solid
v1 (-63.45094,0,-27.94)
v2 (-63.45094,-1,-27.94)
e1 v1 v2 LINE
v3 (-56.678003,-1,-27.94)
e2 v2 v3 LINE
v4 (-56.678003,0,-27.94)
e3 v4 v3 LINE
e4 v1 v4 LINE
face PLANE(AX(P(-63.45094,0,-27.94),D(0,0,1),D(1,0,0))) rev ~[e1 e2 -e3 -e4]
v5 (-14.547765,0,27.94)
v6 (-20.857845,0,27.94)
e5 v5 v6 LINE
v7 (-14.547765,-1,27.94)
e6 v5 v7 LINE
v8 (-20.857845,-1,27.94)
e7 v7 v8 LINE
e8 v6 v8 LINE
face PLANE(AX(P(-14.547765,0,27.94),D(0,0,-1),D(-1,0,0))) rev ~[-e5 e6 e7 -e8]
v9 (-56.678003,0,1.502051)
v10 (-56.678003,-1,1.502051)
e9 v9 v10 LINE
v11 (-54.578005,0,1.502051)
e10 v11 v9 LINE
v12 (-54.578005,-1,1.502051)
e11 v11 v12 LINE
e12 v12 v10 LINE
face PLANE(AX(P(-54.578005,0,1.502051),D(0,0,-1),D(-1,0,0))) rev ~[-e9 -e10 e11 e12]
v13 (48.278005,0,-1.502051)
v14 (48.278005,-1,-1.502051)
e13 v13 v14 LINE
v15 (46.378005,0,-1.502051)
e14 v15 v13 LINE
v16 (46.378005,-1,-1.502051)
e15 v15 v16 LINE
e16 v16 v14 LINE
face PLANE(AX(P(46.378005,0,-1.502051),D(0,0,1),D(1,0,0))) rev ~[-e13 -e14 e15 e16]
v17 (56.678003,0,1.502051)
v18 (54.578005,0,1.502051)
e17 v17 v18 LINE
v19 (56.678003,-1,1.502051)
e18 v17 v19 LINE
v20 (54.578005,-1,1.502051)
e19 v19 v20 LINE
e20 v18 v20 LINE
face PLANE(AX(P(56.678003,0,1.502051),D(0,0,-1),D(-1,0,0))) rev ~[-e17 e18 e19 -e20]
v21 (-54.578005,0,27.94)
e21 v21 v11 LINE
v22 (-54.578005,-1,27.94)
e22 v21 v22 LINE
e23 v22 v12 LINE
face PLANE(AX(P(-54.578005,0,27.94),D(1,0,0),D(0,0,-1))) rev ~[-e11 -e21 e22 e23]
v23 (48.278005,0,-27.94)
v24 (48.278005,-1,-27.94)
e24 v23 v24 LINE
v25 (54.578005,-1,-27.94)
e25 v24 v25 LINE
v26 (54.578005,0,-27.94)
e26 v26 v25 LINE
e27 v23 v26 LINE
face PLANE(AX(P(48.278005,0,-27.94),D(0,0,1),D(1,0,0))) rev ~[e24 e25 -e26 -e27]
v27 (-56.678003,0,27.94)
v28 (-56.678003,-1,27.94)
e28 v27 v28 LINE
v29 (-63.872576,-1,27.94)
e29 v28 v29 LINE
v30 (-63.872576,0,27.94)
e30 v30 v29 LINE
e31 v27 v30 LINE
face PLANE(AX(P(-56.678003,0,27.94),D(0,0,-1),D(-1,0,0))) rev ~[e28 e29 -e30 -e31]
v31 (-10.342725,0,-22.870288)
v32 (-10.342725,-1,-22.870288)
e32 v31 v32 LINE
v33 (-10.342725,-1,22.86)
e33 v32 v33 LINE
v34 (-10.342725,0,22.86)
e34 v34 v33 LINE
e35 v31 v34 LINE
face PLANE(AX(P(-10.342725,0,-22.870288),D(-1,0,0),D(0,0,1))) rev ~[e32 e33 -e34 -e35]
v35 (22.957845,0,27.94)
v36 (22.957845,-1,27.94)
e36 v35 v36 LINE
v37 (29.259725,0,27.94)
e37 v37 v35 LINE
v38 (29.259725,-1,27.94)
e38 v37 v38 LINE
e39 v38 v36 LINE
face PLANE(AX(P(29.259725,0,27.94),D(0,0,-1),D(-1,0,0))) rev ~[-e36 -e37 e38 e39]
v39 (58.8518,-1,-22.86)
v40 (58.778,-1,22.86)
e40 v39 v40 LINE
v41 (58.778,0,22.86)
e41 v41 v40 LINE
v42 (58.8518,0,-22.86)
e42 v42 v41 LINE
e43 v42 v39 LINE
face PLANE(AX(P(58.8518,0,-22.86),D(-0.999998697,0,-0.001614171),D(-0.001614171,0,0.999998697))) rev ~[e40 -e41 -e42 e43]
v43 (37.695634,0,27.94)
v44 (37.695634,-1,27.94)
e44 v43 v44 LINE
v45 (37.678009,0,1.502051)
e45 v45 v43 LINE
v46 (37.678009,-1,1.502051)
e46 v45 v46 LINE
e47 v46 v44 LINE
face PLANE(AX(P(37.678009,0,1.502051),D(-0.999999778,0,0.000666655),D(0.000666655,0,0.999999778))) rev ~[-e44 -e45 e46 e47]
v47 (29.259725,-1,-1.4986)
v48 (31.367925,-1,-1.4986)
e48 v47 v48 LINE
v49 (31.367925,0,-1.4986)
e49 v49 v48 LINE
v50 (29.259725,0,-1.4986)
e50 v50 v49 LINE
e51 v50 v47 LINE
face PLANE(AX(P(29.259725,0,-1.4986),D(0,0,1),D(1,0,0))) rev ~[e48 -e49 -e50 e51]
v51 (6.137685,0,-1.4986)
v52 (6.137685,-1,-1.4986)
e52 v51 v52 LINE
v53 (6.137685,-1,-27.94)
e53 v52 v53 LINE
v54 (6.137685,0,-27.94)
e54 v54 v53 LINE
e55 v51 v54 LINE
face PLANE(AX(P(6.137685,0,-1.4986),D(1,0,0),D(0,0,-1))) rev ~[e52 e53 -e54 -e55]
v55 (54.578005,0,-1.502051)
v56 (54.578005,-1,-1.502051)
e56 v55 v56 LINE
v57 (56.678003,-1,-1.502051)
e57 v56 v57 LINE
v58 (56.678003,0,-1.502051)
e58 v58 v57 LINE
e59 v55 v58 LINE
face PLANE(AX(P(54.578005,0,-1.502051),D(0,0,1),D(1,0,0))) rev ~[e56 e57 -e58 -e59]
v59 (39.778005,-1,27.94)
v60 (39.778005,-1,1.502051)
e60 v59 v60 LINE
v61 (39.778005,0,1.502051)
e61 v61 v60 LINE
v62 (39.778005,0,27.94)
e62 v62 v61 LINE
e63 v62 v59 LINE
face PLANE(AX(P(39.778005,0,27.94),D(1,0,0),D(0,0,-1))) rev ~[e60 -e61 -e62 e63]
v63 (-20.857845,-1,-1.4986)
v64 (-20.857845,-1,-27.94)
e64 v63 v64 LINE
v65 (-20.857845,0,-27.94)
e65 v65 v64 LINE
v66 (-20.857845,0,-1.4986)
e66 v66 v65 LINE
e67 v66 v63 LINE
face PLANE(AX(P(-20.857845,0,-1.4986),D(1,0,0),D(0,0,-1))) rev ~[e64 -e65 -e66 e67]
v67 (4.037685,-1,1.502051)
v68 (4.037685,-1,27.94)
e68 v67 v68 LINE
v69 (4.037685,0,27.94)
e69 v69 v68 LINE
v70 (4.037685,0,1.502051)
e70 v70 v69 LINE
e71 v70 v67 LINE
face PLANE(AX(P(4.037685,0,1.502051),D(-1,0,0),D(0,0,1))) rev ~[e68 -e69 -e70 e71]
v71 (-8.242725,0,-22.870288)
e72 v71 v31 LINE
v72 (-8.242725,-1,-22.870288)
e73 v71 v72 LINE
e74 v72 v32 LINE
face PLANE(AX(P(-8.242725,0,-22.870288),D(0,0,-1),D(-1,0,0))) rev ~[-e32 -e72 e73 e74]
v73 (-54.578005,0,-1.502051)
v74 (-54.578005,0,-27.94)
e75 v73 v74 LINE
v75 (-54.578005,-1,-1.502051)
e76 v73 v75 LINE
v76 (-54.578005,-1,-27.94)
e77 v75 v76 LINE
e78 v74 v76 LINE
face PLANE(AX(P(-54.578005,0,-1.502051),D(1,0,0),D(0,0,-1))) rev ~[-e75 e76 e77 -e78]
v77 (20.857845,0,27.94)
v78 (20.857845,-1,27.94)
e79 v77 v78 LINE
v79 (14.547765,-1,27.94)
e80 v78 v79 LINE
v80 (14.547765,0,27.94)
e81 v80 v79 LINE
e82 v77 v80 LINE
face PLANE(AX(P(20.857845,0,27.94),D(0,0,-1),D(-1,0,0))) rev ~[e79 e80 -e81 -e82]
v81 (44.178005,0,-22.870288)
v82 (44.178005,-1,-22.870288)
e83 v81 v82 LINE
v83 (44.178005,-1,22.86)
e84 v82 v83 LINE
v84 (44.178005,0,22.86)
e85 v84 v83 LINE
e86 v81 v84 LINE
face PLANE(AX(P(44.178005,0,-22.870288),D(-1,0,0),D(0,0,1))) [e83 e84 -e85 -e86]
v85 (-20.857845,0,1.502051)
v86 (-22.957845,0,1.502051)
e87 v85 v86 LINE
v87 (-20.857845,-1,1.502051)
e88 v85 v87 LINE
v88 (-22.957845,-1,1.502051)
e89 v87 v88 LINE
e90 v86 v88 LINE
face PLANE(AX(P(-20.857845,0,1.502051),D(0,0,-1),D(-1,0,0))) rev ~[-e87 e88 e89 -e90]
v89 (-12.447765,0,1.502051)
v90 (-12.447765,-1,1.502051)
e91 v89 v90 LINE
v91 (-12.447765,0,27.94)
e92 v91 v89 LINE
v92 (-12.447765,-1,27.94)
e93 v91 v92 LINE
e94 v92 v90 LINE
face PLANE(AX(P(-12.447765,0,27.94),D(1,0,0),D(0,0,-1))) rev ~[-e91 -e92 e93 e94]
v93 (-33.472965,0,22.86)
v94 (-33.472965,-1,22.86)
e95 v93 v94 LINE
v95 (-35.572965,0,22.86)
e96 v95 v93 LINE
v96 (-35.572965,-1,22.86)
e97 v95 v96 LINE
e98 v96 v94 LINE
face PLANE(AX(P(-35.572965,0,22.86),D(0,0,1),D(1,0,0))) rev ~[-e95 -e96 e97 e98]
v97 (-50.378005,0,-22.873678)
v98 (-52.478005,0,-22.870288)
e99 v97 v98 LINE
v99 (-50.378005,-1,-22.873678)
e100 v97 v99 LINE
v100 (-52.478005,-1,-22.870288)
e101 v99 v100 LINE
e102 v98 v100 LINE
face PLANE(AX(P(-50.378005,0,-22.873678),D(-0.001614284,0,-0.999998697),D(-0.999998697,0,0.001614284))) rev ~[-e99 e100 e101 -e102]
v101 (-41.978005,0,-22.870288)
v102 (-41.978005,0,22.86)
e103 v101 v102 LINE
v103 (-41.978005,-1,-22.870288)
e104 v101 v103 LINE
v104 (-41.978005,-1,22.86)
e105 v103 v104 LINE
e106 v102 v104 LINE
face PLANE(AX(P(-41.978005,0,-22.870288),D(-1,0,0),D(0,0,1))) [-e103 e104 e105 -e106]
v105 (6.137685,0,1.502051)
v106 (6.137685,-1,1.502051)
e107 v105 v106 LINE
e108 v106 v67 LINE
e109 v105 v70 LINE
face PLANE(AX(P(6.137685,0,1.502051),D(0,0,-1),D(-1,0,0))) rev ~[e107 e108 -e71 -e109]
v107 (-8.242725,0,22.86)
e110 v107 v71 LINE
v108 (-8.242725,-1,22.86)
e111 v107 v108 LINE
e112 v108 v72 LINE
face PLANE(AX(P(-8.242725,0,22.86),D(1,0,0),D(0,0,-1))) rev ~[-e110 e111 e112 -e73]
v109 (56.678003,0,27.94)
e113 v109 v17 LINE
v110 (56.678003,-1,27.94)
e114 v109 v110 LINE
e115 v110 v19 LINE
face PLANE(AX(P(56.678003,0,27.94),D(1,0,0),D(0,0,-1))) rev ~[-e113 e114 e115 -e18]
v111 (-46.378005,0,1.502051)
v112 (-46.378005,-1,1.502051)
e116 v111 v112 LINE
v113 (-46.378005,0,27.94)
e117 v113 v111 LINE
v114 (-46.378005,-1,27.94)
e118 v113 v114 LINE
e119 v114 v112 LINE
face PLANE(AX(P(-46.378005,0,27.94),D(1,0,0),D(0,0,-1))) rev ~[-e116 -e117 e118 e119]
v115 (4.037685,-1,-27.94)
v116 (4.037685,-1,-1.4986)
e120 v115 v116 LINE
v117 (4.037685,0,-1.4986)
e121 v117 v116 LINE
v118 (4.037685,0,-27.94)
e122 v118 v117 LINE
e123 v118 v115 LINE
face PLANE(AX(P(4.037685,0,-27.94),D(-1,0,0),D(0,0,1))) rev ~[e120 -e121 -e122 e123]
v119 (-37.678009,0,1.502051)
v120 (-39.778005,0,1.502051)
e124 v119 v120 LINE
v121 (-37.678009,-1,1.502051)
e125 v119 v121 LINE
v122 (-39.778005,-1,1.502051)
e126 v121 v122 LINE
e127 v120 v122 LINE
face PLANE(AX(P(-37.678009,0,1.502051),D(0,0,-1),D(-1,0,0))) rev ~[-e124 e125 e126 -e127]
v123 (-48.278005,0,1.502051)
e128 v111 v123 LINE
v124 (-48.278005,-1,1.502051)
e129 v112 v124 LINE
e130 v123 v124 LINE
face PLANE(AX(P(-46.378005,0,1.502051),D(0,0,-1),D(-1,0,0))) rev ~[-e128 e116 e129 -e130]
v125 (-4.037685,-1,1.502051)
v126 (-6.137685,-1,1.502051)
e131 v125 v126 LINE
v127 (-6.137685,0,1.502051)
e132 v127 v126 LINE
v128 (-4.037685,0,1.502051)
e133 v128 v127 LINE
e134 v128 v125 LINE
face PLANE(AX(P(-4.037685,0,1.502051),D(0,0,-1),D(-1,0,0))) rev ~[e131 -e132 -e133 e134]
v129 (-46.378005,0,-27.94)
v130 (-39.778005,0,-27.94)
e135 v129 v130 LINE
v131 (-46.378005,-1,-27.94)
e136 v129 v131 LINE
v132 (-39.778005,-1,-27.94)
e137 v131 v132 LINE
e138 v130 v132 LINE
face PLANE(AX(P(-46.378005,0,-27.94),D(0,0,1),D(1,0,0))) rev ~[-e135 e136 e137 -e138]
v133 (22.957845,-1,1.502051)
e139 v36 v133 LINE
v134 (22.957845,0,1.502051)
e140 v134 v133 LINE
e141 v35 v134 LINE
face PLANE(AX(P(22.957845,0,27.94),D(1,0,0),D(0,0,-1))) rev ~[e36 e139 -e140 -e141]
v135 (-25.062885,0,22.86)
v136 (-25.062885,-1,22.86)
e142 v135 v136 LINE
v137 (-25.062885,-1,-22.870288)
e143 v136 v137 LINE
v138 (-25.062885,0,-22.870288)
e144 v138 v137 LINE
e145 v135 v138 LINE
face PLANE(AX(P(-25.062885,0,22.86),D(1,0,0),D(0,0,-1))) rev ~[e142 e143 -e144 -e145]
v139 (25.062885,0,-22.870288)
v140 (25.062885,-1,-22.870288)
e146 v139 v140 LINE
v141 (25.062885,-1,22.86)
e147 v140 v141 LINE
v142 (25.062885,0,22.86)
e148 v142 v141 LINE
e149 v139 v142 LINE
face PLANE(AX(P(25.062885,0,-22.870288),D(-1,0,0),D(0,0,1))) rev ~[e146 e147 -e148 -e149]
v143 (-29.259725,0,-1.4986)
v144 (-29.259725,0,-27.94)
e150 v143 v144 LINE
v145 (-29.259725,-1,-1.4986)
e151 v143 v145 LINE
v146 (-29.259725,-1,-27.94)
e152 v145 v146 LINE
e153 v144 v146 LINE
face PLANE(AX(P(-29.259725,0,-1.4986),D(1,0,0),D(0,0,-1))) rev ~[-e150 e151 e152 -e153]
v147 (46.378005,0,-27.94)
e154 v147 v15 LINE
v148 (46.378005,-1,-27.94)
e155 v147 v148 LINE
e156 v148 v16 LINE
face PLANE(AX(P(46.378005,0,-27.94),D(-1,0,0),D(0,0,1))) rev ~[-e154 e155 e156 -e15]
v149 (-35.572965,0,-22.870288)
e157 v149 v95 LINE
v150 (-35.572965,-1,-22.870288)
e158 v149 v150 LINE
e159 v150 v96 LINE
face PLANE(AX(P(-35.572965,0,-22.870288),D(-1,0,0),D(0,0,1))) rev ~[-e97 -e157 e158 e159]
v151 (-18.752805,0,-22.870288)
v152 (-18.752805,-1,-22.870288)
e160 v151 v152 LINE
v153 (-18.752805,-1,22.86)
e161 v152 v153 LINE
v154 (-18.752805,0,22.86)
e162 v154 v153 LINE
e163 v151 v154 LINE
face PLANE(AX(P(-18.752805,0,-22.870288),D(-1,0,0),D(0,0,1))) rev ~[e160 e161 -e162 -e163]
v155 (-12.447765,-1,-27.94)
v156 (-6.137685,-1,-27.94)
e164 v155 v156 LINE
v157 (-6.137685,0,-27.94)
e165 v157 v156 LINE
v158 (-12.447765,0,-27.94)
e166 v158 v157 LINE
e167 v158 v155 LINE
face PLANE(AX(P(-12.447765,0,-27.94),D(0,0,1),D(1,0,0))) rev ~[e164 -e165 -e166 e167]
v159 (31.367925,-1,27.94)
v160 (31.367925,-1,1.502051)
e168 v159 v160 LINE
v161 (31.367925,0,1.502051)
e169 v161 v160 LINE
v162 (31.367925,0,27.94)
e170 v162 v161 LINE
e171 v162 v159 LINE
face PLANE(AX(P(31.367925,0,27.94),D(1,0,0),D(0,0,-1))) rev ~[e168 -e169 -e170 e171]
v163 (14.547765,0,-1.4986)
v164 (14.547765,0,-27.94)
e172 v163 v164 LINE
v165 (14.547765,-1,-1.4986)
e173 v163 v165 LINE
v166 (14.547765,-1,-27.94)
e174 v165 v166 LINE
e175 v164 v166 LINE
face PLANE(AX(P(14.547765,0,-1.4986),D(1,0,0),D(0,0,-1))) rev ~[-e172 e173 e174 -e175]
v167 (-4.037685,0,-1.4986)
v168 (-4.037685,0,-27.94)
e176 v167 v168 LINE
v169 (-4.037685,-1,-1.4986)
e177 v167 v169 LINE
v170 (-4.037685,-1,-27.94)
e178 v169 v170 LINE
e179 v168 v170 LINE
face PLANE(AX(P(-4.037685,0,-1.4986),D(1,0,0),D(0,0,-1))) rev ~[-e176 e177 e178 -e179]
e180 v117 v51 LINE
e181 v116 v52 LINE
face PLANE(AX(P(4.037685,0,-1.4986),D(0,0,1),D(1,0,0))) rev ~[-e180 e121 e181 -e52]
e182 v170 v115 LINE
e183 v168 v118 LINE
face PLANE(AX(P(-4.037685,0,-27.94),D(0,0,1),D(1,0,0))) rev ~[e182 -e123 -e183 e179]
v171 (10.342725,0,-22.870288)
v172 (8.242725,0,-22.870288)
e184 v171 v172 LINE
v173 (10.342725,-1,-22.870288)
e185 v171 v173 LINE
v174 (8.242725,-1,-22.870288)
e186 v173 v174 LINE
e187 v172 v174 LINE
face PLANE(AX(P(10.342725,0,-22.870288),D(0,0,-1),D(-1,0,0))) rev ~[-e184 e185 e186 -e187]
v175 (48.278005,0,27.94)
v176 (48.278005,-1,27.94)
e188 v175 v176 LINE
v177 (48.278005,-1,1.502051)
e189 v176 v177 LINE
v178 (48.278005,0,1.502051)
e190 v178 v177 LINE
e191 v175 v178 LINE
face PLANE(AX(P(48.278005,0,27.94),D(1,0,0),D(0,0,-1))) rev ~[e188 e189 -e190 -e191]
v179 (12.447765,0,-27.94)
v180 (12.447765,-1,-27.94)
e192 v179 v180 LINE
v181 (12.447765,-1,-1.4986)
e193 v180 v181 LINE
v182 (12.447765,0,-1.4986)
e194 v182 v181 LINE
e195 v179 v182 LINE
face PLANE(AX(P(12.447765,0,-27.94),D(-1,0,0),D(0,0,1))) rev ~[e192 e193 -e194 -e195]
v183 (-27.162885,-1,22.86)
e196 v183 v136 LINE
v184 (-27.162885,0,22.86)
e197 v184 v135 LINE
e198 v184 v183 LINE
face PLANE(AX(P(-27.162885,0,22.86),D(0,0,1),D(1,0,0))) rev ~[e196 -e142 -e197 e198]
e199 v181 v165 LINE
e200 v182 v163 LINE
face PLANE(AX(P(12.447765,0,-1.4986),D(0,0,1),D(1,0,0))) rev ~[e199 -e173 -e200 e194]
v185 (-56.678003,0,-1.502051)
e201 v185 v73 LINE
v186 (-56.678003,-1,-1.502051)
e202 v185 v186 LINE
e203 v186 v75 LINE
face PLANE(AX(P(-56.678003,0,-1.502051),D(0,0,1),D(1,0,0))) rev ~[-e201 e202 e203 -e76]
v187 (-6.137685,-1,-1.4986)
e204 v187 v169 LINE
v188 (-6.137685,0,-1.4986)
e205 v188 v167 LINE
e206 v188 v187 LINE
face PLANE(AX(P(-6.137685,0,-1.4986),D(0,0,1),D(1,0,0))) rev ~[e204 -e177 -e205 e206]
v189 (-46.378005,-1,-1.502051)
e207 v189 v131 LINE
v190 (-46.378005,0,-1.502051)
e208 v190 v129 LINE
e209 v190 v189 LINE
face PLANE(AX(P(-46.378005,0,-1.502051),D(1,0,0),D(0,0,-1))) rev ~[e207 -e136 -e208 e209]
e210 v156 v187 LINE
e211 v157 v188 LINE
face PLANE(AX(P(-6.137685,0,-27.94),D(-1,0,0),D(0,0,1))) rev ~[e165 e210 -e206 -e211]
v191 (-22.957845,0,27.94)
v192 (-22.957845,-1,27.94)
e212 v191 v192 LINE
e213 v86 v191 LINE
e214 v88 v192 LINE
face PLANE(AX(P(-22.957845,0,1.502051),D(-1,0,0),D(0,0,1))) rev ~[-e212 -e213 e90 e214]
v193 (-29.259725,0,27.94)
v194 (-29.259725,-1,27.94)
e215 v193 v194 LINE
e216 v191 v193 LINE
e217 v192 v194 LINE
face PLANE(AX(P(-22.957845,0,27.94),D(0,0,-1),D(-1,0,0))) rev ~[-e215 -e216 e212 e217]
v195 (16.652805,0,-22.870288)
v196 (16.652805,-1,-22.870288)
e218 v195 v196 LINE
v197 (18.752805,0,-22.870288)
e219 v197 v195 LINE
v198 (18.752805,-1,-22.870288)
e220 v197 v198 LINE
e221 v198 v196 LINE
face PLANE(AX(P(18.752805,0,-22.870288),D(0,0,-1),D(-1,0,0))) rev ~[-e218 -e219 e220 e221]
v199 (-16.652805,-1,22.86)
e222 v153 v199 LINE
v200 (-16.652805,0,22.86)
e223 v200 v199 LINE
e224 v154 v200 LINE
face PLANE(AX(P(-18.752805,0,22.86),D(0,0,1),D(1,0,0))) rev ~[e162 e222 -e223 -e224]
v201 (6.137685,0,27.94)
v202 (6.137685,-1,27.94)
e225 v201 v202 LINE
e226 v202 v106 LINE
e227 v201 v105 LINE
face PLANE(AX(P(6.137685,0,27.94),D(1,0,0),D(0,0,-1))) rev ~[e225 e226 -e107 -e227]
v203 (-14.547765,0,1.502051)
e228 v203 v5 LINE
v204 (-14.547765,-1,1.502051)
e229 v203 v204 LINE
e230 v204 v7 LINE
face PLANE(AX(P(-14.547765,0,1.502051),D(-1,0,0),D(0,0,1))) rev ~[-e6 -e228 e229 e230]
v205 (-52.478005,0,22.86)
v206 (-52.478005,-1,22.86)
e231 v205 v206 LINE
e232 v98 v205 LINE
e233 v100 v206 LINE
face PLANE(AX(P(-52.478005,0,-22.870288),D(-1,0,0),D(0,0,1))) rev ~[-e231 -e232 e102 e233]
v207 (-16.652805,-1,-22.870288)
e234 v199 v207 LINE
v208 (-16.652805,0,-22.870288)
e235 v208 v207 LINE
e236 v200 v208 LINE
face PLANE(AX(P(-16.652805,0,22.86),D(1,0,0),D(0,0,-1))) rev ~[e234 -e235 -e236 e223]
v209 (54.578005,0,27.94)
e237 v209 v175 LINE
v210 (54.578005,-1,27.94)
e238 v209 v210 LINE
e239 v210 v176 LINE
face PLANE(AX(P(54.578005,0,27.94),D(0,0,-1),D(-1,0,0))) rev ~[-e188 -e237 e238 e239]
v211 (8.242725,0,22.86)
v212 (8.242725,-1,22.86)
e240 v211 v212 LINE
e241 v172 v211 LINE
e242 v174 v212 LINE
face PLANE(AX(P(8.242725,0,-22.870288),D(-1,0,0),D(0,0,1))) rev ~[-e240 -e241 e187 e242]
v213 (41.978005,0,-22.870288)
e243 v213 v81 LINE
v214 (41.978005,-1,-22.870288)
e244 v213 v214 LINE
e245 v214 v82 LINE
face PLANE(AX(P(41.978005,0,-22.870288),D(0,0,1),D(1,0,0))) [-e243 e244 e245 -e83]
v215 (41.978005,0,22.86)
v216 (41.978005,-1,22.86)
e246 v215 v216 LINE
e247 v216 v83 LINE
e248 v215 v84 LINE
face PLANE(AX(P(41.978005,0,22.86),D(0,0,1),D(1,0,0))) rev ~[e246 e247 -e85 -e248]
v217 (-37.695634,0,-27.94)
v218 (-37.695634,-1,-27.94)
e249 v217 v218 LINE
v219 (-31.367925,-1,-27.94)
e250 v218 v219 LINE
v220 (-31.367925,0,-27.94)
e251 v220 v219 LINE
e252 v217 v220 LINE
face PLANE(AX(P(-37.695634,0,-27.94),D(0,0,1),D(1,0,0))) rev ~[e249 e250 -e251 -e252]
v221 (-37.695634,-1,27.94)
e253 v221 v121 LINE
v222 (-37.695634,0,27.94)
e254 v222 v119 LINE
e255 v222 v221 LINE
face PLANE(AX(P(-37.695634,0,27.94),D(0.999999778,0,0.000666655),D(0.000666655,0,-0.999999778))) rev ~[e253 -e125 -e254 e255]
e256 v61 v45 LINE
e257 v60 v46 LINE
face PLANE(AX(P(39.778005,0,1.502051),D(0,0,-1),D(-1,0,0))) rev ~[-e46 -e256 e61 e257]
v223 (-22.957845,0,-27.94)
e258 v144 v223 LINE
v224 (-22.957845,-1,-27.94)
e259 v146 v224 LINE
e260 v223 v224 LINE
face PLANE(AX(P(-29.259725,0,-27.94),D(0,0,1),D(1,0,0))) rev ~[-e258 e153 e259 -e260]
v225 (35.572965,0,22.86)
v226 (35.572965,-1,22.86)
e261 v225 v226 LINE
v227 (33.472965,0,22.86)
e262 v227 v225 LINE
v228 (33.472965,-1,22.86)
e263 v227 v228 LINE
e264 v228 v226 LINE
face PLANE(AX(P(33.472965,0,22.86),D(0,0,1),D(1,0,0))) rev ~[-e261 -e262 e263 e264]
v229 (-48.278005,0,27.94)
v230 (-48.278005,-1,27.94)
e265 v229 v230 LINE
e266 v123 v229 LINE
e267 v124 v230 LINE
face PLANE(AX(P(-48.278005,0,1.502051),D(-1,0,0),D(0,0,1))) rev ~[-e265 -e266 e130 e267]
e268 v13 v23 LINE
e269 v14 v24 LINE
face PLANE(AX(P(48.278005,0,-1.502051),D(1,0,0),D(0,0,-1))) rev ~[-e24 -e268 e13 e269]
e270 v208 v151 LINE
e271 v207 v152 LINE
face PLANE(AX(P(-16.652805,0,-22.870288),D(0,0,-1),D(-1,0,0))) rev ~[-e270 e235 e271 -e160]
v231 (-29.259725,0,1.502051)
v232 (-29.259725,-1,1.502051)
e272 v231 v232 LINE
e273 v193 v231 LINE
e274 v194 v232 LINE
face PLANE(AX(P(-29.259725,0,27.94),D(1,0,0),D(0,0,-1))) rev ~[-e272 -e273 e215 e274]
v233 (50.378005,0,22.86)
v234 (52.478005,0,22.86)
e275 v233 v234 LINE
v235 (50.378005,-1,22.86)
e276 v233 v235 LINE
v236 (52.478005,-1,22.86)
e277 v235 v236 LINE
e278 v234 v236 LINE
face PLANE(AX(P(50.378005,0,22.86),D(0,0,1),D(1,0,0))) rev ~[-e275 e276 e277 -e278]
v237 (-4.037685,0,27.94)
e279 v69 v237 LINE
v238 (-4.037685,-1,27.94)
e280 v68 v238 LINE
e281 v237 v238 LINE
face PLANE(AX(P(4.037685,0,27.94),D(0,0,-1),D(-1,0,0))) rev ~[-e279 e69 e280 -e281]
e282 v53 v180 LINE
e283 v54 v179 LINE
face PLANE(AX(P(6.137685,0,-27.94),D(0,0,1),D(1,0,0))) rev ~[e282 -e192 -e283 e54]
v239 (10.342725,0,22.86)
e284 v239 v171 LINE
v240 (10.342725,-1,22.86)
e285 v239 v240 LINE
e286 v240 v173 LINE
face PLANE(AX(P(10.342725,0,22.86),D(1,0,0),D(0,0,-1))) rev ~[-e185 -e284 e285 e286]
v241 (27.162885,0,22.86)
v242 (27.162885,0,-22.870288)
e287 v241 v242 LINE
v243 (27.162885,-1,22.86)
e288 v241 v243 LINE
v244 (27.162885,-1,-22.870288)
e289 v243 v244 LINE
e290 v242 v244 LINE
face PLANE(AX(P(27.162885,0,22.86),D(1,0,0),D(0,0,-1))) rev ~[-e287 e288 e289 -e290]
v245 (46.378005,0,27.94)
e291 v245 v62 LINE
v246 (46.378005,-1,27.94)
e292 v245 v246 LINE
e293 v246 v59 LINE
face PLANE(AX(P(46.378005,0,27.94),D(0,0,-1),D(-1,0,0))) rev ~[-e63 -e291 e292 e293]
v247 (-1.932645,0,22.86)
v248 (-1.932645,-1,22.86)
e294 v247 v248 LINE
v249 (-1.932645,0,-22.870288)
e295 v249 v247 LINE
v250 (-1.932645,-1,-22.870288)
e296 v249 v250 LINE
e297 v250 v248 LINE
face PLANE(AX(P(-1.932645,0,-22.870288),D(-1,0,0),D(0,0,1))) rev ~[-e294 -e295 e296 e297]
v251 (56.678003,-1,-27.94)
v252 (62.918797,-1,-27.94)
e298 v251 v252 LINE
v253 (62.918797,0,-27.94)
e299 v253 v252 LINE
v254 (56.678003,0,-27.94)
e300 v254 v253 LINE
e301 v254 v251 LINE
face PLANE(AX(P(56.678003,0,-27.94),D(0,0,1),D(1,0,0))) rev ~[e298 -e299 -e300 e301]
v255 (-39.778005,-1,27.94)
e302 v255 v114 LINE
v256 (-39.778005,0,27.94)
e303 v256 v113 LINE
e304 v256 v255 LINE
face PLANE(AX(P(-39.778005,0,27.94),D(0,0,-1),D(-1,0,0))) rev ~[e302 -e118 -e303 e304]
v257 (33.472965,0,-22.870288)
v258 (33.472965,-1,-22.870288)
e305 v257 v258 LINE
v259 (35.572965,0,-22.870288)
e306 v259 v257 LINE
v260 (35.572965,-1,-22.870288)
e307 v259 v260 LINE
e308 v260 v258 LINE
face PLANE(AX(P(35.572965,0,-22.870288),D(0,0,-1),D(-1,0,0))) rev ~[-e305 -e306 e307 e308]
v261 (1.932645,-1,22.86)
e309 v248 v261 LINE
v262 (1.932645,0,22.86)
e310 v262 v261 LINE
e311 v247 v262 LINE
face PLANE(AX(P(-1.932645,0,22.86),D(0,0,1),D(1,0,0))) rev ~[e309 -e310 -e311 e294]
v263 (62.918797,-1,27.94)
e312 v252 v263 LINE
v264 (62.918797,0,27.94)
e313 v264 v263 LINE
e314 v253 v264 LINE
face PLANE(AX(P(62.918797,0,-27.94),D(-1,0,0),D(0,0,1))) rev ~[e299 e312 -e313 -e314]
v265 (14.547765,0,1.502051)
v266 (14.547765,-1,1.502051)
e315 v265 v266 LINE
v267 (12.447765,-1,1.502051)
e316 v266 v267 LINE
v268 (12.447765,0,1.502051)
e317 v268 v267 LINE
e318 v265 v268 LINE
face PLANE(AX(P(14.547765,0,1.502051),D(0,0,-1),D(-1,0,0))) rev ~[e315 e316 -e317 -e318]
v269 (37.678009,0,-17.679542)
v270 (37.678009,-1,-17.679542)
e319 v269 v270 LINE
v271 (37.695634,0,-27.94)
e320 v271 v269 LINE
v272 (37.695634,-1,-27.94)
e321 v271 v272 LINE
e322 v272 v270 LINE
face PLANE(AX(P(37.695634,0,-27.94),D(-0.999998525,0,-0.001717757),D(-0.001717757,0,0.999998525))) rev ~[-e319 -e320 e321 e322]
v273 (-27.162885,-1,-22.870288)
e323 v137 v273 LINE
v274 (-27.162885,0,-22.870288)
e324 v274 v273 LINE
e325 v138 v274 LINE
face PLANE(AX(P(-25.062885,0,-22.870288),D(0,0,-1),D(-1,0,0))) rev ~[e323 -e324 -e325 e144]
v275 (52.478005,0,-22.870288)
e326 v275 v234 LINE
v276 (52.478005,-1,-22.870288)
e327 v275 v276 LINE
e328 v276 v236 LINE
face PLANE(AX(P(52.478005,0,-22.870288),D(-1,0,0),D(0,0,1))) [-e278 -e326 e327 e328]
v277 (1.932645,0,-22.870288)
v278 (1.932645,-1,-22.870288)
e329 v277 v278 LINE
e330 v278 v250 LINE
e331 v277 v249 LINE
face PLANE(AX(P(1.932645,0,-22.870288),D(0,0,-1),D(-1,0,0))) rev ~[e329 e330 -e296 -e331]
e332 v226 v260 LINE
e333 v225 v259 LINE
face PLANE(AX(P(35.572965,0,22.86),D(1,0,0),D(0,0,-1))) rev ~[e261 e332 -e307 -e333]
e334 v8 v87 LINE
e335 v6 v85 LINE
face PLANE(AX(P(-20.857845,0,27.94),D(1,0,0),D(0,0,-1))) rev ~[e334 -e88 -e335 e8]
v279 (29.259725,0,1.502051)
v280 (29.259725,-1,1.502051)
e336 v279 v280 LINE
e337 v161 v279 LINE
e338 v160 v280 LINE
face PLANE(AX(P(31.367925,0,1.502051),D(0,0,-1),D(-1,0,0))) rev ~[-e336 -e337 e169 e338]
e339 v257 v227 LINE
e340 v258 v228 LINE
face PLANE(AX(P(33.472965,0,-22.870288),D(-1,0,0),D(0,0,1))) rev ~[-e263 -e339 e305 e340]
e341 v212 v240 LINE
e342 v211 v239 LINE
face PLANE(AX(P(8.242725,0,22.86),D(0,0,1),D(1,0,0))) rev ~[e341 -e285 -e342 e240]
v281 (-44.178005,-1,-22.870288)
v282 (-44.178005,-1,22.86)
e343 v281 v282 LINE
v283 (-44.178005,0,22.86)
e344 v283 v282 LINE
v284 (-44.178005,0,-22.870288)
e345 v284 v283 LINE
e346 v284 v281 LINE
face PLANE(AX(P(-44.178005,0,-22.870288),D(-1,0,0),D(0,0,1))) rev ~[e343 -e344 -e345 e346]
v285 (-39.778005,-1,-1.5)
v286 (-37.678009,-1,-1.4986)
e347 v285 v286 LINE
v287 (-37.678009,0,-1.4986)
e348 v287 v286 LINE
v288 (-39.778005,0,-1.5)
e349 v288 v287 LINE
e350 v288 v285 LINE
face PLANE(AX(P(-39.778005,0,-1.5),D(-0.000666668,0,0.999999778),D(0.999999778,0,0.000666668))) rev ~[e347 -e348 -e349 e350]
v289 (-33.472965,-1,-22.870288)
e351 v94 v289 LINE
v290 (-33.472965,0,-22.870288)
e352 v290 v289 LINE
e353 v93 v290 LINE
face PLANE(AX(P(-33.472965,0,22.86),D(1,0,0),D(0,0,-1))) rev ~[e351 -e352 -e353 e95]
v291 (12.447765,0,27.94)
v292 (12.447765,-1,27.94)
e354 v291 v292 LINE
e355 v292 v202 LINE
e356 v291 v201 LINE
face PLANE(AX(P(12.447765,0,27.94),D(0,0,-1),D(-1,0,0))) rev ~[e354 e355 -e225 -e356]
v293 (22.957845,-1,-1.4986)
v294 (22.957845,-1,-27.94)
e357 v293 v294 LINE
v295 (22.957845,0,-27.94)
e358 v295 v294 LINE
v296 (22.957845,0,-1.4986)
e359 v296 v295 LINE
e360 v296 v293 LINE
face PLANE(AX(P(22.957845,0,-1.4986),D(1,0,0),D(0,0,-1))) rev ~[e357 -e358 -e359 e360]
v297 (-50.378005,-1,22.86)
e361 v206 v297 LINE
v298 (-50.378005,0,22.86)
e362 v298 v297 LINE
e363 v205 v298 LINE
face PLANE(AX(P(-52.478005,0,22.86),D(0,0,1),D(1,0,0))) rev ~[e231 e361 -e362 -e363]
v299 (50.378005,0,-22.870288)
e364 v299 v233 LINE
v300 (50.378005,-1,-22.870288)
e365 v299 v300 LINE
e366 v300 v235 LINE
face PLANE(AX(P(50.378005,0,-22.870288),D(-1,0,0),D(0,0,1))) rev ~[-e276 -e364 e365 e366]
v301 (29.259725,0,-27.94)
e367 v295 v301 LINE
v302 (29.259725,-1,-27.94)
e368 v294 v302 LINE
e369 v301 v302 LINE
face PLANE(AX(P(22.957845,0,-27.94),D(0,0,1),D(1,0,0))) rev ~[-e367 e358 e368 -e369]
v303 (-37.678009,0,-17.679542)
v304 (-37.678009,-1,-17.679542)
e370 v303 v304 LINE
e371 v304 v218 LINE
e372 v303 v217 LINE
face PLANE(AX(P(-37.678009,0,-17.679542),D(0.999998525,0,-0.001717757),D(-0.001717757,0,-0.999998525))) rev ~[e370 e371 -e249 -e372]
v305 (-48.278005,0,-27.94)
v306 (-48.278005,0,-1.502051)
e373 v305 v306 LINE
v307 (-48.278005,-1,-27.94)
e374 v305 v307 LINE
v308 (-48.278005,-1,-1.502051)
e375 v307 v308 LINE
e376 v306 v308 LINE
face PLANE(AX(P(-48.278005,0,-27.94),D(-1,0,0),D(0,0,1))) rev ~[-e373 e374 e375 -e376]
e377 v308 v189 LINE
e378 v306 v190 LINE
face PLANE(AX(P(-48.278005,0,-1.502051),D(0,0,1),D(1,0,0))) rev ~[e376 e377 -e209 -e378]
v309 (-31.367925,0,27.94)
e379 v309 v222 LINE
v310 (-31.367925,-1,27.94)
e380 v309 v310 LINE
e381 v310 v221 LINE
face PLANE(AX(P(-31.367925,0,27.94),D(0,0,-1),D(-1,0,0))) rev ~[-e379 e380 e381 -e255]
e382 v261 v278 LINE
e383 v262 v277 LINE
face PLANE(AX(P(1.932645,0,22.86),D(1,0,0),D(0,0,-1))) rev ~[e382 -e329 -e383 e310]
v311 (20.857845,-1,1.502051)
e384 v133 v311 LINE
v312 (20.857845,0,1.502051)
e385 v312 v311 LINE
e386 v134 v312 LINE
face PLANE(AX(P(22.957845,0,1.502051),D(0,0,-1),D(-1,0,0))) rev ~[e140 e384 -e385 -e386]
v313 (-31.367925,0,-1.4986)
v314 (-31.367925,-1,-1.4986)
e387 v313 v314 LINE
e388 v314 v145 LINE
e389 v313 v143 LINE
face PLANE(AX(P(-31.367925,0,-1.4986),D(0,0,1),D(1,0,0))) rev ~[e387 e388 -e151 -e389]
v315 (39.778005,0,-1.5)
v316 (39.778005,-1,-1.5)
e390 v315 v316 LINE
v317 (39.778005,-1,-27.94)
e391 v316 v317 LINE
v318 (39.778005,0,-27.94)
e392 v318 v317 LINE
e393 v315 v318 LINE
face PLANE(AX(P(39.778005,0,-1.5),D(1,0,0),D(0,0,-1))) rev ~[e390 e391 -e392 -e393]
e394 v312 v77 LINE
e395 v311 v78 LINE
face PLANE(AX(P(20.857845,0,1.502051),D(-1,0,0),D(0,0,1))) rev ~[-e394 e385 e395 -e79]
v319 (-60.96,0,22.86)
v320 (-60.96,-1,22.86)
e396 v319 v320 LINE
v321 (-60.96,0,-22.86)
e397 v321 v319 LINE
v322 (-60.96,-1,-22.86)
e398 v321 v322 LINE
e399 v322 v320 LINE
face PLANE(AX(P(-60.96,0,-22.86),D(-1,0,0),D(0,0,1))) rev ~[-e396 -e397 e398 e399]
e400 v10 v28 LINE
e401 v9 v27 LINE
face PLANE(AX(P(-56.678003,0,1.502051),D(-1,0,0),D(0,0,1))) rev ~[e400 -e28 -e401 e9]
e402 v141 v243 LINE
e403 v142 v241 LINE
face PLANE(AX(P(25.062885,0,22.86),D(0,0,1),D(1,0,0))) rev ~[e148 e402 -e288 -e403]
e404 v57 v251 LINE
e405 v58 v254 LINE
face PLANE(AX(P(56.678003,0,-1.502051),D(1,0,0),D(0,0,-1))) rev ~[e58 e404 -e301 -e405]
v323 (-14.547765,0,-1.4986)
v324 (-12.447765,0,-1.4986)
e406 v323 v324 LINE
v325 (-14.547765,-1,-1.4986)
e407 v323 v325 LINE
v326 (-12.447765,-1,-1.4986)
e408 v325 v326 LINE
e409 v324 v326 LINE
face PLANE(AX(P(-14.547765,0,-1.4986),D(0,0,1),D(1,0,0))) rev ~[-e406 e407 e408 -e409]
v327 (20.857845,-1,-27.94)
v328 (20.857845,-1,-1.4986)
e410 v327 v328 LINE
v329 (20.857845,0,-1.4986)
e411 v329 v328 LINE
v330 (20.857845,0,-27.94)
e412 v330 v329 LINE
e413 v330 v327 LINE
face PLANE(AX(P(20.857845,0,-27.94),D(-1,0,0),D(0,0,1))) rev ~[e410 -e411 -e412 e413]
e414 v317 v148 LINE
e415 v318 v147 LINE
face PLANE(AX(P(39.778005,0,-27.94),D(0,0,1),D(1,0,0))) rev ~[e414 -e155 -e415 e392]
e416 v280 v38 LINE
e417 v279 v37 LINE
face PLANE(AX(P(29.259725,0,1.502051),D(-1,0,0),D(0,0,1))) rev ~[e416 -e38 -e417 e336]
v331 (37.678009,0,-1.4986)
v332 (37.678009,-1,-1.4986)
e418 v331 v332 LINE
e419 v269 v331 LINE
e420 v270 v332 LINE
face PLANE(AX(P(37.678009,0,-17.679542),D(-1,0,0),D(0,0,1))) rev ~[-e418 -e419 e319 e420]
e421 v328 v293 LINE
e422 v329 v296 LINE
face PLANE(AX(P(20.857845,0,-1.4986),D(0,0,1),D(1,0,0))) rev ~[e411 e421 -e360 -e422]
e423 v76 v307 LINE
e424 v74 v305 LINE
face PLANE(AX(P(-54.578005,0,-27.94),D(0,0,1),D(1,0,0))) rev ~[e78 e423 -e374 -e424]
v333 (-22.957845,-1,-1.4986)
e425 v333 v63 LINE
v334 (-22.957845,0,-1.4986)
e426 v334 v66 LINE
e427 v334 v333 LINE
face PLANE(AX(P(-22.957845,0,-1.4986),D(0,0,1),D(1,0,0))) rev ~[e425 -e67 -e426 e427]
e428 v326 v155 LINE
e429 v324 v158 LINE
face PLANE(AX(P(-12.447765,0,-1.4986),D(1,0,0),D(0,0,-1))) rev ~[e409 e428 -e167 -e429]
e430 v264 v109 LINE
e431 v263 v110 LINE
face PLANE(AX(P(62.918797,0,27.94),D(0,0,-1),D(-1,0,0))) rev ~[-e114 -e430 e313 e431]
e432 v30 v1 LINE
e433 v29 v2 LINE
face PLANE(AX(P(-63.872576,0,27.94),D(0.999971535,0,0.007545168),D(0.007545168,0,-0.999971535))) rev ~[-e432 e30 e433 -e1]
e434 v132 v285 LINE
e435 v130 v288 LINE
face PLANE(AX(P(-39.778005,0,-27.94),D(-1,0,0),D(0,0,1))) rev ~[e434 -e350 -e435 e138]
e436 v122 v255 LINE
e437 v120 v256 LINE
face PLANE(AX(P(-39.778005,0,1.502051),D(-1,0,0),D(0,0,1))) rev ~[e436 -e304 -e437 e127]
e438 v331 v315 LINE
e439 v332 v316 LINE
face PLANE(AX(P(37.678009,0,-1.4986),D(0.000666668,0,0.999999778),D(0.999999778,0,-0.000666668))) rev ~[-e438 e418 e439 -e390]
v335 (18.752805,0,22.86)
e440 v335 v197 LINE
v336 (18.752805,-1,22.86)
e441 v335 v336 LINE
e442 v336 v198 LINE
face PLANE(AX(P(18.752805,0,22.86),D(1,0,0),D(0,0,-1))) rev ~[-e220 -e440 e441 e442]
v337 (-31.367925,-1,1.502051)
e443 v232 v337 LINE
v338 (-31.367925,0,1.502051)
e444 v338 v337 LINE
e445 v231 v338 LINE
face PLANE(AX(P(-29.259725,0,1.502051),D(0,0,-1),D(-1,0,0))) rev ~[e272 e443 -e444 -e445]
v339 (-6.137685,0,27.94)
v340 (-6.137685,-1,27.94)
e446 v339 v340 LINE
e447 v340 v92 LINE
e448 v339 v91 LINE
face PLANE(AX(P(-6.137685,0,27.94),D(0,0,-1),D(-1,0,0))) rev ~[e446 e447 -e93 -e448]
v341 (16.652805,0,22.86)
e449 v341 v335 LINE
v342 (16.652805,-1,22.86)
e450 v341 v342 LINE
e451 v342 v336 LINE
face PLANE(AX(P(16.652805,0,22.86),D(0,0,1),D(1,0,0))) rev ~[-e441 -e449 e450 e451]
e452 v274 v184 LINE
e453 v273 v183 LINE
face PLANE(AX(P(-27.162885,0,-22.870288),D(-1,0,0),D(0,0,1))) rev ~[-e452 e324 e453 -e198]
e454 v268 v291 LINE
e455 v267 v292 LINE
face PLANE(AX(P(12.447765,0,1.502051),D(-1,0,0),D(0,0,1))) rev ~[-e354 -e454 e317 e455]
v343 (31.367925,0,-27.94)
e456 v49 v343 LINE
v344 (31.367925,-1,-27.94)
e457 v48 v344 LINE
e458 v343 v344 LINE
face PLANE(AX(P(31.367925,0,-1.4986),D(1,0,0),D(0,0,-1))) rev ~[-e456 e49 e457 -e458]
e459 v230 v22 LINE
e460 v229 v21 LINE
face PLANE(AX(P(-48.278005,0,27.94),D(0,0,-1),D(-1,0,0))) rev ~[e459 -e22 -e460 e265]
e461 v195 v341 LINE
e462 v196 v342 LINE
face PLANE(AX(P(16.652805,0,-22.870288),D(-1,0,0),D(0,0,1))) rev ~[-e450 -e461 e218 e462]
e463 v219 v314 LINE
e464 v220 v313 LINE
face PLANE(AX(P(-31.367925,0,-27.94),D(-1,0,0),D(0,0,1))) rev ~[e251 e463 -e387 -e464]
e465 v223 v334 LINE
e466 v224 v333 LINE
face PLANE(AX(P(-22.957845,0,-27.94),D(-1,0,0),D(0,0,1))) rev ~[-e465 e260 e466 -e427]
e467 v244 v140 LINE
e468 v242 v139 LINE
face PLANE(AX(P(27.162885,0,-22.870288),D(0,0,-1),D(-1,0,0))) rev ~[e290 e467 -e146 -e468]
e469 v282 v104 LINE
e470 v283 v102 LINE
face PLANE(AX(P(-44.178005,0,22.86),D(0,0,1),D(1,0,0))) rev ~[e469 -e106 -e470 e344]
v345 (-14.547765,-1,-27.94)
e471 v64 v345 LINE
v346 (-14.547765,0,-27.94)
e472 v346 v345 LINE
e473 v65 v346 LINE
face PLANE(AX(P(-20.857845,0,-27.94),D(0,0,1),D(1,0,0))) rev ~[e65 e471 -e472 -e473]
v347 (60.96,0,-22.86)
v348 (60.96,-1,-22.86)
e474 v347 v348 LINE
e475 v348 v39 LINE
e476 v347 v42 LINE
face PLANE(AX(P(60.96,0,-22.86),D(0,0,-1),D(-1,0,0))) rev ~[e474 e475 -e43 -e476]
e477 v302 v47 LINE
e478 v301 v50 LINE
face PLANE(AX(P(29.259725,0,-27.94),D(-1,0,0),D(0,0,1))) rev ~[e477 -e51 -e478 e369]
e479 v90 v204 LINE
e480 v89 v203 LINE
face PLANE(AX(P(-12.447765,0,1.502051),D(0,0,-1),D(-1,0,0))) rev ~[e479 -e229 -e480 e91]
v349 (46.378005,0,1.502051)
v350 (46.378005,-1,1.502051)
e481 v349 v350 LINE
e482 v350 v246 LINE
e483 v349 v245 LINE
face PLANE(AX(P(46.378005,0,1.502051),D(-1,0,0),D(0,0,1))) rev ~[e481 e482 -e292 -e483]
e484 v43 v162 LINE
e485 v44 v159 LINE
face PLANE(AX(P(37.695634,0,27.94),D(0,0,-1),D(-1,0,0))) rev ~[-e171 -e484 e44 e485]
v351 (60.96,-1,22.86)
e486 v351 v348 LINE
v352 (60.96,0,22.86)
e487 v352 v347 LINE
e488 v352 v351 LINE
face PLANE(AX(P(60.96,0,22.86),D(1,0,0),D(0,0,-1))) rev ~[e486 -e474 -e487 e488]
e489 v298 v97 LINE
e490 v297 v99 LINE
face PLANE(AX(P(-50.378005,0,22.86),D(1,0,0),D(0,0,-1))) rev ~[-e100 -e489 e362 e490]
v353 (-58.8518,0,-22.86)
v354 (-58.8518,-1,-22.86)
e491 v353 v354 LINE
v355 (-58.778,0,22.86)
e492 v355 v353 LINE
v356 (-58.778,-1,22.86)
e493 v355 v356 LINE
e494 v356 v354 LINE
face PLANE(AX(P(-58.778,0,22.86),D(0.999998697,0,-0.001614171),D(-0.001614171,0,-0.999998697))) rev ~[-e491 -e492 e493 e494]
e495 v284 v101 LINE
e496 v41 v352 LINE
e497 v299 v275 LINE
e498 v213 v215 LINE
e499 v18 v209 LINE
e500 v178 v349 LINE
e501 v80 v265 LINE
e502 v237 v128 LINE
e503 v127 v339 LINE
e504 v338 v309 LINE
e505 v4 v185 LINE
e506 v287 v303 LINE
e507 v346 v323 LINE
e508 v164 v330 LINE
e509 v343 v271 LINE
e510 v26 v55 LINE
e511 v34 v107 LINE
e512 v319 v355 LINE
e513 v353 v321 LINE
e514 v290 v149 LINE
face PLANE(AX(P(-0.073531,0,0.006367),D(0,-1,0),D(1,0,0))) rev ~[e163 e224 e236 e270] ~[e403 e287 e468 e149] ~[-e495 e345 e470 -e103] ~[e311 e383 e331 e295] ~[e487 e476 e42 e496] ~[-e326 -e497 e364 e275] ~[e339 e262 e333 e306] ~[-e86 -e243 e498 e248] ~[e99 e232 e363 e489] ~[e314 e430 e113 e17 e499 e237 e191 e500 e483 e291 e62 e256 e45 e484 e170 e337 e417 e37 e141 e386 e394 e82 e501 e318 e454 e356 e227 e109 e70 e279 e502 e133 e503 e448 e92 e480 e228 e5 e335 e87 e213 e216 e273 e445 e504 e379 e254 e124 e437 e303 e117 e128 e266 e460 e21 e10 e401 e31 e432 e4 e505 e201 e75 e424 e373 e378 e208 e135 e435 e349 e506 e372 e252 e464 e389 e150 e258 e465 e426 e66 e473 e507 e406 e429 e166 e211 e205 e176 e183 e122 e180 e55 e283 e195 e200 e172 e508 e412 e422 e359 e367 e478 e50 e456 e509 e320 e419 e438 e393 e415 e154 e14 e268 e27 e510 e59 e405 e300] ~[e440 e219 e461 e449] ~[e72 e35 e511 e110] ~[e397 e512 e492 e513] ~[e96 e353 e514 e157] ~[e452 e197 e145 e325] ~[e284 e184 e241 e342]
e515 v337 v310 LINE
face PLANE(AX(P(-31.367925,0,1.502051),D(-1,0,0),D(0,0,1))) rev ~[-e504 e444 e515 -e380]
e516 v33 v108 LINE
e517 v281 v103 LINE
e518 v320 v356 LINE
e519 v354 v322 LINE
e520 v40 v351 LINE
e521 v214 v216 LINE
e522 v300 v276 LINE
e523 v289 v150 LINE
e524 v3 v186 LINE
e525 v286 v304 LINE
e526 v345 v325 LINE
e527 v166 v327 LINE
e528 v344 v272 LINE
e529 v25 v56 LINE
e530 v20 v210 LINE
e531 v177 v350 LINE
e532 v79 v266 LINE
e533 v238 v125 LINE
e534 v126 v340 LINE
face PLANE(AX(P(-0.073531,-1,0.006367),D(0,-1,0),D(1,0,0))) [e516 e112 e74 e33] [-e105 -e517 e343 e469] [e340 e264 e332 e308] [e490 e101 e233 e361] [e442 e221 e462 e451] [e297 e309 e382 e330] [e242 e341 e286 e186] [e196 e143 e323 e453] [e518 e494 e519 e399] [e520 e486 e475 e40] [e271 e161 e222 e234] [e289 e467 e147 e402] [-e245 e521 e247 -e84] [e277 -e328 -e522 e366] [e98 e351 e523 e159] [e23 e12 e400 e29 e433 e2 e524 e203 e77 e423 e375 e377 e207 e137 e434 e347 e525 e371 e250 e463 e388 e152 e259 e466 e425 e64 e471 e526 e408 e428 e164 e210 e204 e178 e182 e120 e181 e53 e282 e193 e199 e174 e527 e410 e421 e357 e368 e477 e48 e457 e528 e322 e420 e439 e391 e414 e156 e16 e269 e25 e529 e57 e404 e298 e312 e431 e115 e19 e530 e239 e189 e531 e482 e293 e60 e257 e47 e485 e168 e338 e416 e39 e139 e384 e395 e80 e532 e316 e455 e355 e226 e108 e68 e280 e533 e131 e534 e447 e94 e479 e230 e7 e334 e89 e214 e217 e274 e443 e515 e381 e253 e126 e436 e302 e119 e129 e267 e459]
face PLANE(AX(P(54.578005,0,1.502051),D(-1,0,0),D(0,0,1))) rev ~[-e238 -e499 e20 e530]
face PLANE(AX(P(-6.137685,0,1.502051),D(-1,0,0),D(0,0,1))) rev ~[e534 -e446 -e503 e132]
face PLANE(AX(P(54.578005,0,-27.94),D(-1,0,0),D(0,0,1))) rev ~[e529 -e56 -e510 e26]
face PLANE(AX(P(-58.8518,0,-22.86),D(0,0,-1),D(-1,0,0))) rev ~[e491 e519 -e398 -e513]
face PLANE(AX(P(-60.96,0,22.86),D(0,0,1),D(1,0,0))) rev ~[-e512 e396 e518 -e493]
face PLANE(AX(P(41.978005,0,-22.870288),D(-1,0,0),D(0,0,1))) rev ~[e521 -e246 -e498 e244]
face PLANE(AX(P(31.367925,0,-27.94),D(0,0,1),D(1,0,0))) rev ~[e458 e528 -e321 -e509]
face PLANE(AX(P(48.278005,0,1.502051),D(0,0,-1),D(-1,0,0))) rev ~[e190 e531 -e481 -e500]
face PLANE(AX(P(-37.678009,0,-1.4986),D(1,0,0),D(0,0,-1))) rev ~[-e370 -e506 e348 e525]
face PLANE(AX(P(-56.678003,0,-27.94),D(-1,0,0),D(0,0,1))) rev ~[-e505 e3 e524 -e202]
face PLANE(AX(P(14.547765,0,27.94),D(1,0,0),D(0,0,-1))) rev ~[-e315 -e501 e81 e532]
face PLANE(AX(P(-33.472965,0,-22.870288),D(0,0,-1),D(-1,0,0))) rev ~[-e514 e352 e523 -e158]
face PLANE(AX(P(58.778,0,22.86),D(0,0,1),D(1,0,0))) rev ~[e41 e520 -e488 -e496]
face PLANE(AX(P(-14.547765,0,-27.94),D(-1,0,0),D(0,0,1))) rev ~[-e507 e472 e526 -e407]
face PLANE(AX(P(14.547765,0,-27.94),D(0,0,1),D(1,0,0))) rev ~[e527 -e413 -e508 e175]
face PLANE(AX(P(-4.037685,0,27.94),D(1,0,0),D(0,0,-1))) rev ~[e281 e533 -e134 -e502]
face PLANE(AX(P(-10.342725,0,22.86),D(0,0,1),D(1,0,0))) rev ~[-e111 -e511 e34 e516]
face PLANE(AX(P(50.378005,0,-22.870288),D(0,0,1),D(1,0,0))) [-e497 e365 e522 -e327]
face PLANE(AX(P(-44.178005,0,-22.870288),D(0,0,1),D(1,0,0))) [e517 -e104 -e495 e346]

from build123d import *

# Parameters (mm, degrees)
F0_W     = 2.2
F0_H     = 45.730288
F0_W_2   = 2.1
F1_DEPTH = 1


with BuildPart() as f1:
    # F0 (on Front) → F1 (new body)
    with BuildSketch(Plane.XZ):
        Polygon((-60.96, 27.94), (-63.872576, 27.94), (-63.45094, -27.94), (-60.96, -27.94), (-58.86, -27.94), (-58.8518, -27.94), (-56.678003, -27.94), (-56.678003, -1.502051), (-54.578005, -1.502051), (-54.578005, -27.94), (-52.478005, -27.94), (-50.378005, -27.94), (-48.278005, -27.94), (-48.278005, -1.502051), (-46.378005, -1.502051), (-46.378005, -22.870288), (-46.378005, -27.94), (-44.178005, -27.94), (-41.978005, -27.94), (-39.778005, -27.94), (-39.778005, -1.5), (-37.678009, -1.4986), (-37.678009, -17.679542), (-37.695634, -27.94), (-31.367925, -27.94), (-31.367925, -1.4986), (-29.259725, -1.4986), (-29.259725, -27.94), (-22.957845, -27.94), (-22.957845, -1.4986), (-20.857845, -1.4986), (-20.857845, -27.94), (-14.547765, -27.94), (-14.547765, -1.4986), (-12.447765, -1.4986), (-12.447765, -27.94), (-6.137685, -27.94), (-6.137685, -1.4986), (-4.037685, -1.4986), (-4.037685, -27.94), (4.037685, -27.94), (4.037685, -1.4986), (6.137685, -1.4986), (6.137685, -27.94), (12.447765, -27.94), (12.447765, -1.4986), (14.547765, -1.4986), (14.547765, -27.94), (20.857845, -27.94), (20.857845, -1.4986), (22.957845, -1.4986), (22.957845, -27.94), (29.259725, -27.94), (29.259725, -1.4986), (31.367925, -1.4986), (31.367925, -27.94), (37.695634, -27.94), (37.678009, -17.679542), (37.678009, -1.4986), (39.778005, -1.5), (39.778005, -27.94), (46.378005, -27.94), (46.378005, -1.502051), (48.278005, -1.502051), (48.278005, -27.94), (54.578005, -27.94), (54.578005, -1.502051), (56.678003, -1.502051), (56.678003, -27.94), (62.918797, -27.94), (62.918797, 27.94), (56.678003, 27.94), (56.678003, 1.502051), (54.578005, 1.502051), (54.578005, 27.94), (48.278005, 27.94), (48.278005, 1.502051), (46.378005, 1.502051), (46.378005, 27.94), (39.778005, 27.94), (39.778005, 22.86), (39.778005, 1.502051), (37.678009, 1.502051), (37.695634, 27.94), (31.367925, 27.94), (31.367925, 22.86), (31.367925, 1.502051), (29.259725, 1.502051), (29.259725, 27.94), (22.957845, 27.94), (22.957845, 22.86), (22.957845, 1.502051), (20.857845, 1.502051), (20.857845, 27.94), (14.547765, 27.94), (14.547765, 22.86), (14.547765, 1.502051), (12.447765, 1.502051), (12.447765, 27.94), (6.137685, 27.94), (6.137685, 22.86), (6.137685, 1.502051), (4.037685, 1.502051), (4.037685, 27.94), (-4.037685, 27.94), (-4.037685, 1.502051), (-6.137685, 1.502051), (-6.137685, 22.86), (-6.137685, 27.94), (-12.447765, 27.94), (-12.447765, 1.502051), (-14.547765, 1.502051), (-14.547765, 22.86), (-14.547765, 27.94), (-20.857845, 27.94), (-20.857845, 1.502051), (-22.957845, 1.502051), (-22.957845, 22.86), (-22.957845, 27.94), (-29.259725, 27.94), (-29.259725, 1.502051), (-31.367925, 1.502051), (-31.367925, 22.86), (-31.367925, 27.94), (-34.921541, 27.94), (-37.695634, 27.94), (-37.678009, 1.502051), (-39.778005, 1.502051), (-39.778005, 22.86), (-39.778005, 27.94), (-41.978005, 27.94), (-44.178005, 27.94), (-46.378005, 27.94), (-46.378005, 22.86), (-46.378005, 1.502051), (-48.278005, 1.502051), (-48.278005, 27.94), (-50.378005, 27.94), (-52.478005, 27.94), (-54.578005, 27.94), (-54.578005, 1.502051), (-56.678003, 1.502051), (-56.678003, 19.27661), (-56.678003, 27.94), (-58.7698, 27.94), (-58.86, 27.94), align=None)
        Polygon((-52.478005, 22.86), (-50.378005, 22.86), (-50.378005, -22.870288), (-50.378005, -22.873678), (-52.478005, -22.870288), align=None, mode=Mode.SUBTRACT)
        with Locations((-43.078005, -0.005144)):
            Rectangle(F0_W, F0_H, mode=Mode.SUBTRACT)
        Polygon((-35.572965, 17.750787), (-35.572965, 22.86), (-33.472965, 22.86), (-33.472965, -22.870288), (-35.572965, -22.870288), align=None, mode=Mode.SUBTRACT)
        Polygon((-27.162885, -22.870288), (-27.162885, 17.750787), (-27.162885, 22.86), (-25.062885, 22.86), (-25.062885, -22.870288), align=None, mode=Mode.SUBTRACT)
        Polygon((-18.752805, -22.870288), (-18.752805, 17.750787), (-18.752805, 22.86), (-16.652805, 22.86), (-16.652805, -22.870288), align=None, mode=Mode.SUBTRACT)
        Polygon((-10.342725, -22.870288), (-10.342725, 17.750787), (-10.342725, 22.86), (-8.242725, 22.86), (-8.242725, -22.870288), align=None, mode=Mode.SUBTRACT)
        Polygon((-1.932645, -22.870288), (-1.932645, 17.750787), (-1.932645, 22.86), (0, 22.86), (1.932645, 22.86), (1.932645, 17.750787), (1.932645, -22.870288), (0, -22.870288), align=None, mode=Mode.SUBTRACT)
        Polygon((8.242725, -22.870288), (8.242725, 22.86), (10.342725, 22.86), (10.342725, 17.750787), (10.342725, -22.870288), align=None, mode=Mode.SUBTRACT)
        Polygon((16.652805, 22.86), (18.752805, 22.86), (18.752805, 17.750787), (18.752805, -22.870288), (16.652805, -22.870288), align=None, mode=Mode.SUBTRACT)
        Polygon((25.062885, 22.86), (27.162885, 22.86), (27.162885, 17.750787), (27.162885, -22.870288), (25.062885, -22.870288), align=None, mode=Mode.SUBTRACT)
        Polygon((35.572965, -22.870288), (33.472965, -22.870288), (33.472965, 22.86), (35.572965, 22.86), (35.572965, 17.750787), align=None, mode=Mode.SUBTRACT)
        with Locations((43.078005, -0.005144)):
            Rectangle(F0_W, F0_H, mode=Mode.SUBTRACT)
        with Locations((51.428005, -0.005144)):
            Rectangle(F0_W_2, F0_H, mode=Mode.SUBTRACT)
        Polygon((-60.96, -22.86), (-60.96, 22.86), (-58.778, 22.86), (-58.8518, -22.86), align=None, mode=Mode.SUBTRACT)
        Polygon((58.778, 22.86), (60.96, 22.86), (60.96, -22.86), (58.8518, -22.86), align=None, mode=Mode.SUBTRACT)
    extrude(amount=F1_DEPTH)


solid = f1.part
